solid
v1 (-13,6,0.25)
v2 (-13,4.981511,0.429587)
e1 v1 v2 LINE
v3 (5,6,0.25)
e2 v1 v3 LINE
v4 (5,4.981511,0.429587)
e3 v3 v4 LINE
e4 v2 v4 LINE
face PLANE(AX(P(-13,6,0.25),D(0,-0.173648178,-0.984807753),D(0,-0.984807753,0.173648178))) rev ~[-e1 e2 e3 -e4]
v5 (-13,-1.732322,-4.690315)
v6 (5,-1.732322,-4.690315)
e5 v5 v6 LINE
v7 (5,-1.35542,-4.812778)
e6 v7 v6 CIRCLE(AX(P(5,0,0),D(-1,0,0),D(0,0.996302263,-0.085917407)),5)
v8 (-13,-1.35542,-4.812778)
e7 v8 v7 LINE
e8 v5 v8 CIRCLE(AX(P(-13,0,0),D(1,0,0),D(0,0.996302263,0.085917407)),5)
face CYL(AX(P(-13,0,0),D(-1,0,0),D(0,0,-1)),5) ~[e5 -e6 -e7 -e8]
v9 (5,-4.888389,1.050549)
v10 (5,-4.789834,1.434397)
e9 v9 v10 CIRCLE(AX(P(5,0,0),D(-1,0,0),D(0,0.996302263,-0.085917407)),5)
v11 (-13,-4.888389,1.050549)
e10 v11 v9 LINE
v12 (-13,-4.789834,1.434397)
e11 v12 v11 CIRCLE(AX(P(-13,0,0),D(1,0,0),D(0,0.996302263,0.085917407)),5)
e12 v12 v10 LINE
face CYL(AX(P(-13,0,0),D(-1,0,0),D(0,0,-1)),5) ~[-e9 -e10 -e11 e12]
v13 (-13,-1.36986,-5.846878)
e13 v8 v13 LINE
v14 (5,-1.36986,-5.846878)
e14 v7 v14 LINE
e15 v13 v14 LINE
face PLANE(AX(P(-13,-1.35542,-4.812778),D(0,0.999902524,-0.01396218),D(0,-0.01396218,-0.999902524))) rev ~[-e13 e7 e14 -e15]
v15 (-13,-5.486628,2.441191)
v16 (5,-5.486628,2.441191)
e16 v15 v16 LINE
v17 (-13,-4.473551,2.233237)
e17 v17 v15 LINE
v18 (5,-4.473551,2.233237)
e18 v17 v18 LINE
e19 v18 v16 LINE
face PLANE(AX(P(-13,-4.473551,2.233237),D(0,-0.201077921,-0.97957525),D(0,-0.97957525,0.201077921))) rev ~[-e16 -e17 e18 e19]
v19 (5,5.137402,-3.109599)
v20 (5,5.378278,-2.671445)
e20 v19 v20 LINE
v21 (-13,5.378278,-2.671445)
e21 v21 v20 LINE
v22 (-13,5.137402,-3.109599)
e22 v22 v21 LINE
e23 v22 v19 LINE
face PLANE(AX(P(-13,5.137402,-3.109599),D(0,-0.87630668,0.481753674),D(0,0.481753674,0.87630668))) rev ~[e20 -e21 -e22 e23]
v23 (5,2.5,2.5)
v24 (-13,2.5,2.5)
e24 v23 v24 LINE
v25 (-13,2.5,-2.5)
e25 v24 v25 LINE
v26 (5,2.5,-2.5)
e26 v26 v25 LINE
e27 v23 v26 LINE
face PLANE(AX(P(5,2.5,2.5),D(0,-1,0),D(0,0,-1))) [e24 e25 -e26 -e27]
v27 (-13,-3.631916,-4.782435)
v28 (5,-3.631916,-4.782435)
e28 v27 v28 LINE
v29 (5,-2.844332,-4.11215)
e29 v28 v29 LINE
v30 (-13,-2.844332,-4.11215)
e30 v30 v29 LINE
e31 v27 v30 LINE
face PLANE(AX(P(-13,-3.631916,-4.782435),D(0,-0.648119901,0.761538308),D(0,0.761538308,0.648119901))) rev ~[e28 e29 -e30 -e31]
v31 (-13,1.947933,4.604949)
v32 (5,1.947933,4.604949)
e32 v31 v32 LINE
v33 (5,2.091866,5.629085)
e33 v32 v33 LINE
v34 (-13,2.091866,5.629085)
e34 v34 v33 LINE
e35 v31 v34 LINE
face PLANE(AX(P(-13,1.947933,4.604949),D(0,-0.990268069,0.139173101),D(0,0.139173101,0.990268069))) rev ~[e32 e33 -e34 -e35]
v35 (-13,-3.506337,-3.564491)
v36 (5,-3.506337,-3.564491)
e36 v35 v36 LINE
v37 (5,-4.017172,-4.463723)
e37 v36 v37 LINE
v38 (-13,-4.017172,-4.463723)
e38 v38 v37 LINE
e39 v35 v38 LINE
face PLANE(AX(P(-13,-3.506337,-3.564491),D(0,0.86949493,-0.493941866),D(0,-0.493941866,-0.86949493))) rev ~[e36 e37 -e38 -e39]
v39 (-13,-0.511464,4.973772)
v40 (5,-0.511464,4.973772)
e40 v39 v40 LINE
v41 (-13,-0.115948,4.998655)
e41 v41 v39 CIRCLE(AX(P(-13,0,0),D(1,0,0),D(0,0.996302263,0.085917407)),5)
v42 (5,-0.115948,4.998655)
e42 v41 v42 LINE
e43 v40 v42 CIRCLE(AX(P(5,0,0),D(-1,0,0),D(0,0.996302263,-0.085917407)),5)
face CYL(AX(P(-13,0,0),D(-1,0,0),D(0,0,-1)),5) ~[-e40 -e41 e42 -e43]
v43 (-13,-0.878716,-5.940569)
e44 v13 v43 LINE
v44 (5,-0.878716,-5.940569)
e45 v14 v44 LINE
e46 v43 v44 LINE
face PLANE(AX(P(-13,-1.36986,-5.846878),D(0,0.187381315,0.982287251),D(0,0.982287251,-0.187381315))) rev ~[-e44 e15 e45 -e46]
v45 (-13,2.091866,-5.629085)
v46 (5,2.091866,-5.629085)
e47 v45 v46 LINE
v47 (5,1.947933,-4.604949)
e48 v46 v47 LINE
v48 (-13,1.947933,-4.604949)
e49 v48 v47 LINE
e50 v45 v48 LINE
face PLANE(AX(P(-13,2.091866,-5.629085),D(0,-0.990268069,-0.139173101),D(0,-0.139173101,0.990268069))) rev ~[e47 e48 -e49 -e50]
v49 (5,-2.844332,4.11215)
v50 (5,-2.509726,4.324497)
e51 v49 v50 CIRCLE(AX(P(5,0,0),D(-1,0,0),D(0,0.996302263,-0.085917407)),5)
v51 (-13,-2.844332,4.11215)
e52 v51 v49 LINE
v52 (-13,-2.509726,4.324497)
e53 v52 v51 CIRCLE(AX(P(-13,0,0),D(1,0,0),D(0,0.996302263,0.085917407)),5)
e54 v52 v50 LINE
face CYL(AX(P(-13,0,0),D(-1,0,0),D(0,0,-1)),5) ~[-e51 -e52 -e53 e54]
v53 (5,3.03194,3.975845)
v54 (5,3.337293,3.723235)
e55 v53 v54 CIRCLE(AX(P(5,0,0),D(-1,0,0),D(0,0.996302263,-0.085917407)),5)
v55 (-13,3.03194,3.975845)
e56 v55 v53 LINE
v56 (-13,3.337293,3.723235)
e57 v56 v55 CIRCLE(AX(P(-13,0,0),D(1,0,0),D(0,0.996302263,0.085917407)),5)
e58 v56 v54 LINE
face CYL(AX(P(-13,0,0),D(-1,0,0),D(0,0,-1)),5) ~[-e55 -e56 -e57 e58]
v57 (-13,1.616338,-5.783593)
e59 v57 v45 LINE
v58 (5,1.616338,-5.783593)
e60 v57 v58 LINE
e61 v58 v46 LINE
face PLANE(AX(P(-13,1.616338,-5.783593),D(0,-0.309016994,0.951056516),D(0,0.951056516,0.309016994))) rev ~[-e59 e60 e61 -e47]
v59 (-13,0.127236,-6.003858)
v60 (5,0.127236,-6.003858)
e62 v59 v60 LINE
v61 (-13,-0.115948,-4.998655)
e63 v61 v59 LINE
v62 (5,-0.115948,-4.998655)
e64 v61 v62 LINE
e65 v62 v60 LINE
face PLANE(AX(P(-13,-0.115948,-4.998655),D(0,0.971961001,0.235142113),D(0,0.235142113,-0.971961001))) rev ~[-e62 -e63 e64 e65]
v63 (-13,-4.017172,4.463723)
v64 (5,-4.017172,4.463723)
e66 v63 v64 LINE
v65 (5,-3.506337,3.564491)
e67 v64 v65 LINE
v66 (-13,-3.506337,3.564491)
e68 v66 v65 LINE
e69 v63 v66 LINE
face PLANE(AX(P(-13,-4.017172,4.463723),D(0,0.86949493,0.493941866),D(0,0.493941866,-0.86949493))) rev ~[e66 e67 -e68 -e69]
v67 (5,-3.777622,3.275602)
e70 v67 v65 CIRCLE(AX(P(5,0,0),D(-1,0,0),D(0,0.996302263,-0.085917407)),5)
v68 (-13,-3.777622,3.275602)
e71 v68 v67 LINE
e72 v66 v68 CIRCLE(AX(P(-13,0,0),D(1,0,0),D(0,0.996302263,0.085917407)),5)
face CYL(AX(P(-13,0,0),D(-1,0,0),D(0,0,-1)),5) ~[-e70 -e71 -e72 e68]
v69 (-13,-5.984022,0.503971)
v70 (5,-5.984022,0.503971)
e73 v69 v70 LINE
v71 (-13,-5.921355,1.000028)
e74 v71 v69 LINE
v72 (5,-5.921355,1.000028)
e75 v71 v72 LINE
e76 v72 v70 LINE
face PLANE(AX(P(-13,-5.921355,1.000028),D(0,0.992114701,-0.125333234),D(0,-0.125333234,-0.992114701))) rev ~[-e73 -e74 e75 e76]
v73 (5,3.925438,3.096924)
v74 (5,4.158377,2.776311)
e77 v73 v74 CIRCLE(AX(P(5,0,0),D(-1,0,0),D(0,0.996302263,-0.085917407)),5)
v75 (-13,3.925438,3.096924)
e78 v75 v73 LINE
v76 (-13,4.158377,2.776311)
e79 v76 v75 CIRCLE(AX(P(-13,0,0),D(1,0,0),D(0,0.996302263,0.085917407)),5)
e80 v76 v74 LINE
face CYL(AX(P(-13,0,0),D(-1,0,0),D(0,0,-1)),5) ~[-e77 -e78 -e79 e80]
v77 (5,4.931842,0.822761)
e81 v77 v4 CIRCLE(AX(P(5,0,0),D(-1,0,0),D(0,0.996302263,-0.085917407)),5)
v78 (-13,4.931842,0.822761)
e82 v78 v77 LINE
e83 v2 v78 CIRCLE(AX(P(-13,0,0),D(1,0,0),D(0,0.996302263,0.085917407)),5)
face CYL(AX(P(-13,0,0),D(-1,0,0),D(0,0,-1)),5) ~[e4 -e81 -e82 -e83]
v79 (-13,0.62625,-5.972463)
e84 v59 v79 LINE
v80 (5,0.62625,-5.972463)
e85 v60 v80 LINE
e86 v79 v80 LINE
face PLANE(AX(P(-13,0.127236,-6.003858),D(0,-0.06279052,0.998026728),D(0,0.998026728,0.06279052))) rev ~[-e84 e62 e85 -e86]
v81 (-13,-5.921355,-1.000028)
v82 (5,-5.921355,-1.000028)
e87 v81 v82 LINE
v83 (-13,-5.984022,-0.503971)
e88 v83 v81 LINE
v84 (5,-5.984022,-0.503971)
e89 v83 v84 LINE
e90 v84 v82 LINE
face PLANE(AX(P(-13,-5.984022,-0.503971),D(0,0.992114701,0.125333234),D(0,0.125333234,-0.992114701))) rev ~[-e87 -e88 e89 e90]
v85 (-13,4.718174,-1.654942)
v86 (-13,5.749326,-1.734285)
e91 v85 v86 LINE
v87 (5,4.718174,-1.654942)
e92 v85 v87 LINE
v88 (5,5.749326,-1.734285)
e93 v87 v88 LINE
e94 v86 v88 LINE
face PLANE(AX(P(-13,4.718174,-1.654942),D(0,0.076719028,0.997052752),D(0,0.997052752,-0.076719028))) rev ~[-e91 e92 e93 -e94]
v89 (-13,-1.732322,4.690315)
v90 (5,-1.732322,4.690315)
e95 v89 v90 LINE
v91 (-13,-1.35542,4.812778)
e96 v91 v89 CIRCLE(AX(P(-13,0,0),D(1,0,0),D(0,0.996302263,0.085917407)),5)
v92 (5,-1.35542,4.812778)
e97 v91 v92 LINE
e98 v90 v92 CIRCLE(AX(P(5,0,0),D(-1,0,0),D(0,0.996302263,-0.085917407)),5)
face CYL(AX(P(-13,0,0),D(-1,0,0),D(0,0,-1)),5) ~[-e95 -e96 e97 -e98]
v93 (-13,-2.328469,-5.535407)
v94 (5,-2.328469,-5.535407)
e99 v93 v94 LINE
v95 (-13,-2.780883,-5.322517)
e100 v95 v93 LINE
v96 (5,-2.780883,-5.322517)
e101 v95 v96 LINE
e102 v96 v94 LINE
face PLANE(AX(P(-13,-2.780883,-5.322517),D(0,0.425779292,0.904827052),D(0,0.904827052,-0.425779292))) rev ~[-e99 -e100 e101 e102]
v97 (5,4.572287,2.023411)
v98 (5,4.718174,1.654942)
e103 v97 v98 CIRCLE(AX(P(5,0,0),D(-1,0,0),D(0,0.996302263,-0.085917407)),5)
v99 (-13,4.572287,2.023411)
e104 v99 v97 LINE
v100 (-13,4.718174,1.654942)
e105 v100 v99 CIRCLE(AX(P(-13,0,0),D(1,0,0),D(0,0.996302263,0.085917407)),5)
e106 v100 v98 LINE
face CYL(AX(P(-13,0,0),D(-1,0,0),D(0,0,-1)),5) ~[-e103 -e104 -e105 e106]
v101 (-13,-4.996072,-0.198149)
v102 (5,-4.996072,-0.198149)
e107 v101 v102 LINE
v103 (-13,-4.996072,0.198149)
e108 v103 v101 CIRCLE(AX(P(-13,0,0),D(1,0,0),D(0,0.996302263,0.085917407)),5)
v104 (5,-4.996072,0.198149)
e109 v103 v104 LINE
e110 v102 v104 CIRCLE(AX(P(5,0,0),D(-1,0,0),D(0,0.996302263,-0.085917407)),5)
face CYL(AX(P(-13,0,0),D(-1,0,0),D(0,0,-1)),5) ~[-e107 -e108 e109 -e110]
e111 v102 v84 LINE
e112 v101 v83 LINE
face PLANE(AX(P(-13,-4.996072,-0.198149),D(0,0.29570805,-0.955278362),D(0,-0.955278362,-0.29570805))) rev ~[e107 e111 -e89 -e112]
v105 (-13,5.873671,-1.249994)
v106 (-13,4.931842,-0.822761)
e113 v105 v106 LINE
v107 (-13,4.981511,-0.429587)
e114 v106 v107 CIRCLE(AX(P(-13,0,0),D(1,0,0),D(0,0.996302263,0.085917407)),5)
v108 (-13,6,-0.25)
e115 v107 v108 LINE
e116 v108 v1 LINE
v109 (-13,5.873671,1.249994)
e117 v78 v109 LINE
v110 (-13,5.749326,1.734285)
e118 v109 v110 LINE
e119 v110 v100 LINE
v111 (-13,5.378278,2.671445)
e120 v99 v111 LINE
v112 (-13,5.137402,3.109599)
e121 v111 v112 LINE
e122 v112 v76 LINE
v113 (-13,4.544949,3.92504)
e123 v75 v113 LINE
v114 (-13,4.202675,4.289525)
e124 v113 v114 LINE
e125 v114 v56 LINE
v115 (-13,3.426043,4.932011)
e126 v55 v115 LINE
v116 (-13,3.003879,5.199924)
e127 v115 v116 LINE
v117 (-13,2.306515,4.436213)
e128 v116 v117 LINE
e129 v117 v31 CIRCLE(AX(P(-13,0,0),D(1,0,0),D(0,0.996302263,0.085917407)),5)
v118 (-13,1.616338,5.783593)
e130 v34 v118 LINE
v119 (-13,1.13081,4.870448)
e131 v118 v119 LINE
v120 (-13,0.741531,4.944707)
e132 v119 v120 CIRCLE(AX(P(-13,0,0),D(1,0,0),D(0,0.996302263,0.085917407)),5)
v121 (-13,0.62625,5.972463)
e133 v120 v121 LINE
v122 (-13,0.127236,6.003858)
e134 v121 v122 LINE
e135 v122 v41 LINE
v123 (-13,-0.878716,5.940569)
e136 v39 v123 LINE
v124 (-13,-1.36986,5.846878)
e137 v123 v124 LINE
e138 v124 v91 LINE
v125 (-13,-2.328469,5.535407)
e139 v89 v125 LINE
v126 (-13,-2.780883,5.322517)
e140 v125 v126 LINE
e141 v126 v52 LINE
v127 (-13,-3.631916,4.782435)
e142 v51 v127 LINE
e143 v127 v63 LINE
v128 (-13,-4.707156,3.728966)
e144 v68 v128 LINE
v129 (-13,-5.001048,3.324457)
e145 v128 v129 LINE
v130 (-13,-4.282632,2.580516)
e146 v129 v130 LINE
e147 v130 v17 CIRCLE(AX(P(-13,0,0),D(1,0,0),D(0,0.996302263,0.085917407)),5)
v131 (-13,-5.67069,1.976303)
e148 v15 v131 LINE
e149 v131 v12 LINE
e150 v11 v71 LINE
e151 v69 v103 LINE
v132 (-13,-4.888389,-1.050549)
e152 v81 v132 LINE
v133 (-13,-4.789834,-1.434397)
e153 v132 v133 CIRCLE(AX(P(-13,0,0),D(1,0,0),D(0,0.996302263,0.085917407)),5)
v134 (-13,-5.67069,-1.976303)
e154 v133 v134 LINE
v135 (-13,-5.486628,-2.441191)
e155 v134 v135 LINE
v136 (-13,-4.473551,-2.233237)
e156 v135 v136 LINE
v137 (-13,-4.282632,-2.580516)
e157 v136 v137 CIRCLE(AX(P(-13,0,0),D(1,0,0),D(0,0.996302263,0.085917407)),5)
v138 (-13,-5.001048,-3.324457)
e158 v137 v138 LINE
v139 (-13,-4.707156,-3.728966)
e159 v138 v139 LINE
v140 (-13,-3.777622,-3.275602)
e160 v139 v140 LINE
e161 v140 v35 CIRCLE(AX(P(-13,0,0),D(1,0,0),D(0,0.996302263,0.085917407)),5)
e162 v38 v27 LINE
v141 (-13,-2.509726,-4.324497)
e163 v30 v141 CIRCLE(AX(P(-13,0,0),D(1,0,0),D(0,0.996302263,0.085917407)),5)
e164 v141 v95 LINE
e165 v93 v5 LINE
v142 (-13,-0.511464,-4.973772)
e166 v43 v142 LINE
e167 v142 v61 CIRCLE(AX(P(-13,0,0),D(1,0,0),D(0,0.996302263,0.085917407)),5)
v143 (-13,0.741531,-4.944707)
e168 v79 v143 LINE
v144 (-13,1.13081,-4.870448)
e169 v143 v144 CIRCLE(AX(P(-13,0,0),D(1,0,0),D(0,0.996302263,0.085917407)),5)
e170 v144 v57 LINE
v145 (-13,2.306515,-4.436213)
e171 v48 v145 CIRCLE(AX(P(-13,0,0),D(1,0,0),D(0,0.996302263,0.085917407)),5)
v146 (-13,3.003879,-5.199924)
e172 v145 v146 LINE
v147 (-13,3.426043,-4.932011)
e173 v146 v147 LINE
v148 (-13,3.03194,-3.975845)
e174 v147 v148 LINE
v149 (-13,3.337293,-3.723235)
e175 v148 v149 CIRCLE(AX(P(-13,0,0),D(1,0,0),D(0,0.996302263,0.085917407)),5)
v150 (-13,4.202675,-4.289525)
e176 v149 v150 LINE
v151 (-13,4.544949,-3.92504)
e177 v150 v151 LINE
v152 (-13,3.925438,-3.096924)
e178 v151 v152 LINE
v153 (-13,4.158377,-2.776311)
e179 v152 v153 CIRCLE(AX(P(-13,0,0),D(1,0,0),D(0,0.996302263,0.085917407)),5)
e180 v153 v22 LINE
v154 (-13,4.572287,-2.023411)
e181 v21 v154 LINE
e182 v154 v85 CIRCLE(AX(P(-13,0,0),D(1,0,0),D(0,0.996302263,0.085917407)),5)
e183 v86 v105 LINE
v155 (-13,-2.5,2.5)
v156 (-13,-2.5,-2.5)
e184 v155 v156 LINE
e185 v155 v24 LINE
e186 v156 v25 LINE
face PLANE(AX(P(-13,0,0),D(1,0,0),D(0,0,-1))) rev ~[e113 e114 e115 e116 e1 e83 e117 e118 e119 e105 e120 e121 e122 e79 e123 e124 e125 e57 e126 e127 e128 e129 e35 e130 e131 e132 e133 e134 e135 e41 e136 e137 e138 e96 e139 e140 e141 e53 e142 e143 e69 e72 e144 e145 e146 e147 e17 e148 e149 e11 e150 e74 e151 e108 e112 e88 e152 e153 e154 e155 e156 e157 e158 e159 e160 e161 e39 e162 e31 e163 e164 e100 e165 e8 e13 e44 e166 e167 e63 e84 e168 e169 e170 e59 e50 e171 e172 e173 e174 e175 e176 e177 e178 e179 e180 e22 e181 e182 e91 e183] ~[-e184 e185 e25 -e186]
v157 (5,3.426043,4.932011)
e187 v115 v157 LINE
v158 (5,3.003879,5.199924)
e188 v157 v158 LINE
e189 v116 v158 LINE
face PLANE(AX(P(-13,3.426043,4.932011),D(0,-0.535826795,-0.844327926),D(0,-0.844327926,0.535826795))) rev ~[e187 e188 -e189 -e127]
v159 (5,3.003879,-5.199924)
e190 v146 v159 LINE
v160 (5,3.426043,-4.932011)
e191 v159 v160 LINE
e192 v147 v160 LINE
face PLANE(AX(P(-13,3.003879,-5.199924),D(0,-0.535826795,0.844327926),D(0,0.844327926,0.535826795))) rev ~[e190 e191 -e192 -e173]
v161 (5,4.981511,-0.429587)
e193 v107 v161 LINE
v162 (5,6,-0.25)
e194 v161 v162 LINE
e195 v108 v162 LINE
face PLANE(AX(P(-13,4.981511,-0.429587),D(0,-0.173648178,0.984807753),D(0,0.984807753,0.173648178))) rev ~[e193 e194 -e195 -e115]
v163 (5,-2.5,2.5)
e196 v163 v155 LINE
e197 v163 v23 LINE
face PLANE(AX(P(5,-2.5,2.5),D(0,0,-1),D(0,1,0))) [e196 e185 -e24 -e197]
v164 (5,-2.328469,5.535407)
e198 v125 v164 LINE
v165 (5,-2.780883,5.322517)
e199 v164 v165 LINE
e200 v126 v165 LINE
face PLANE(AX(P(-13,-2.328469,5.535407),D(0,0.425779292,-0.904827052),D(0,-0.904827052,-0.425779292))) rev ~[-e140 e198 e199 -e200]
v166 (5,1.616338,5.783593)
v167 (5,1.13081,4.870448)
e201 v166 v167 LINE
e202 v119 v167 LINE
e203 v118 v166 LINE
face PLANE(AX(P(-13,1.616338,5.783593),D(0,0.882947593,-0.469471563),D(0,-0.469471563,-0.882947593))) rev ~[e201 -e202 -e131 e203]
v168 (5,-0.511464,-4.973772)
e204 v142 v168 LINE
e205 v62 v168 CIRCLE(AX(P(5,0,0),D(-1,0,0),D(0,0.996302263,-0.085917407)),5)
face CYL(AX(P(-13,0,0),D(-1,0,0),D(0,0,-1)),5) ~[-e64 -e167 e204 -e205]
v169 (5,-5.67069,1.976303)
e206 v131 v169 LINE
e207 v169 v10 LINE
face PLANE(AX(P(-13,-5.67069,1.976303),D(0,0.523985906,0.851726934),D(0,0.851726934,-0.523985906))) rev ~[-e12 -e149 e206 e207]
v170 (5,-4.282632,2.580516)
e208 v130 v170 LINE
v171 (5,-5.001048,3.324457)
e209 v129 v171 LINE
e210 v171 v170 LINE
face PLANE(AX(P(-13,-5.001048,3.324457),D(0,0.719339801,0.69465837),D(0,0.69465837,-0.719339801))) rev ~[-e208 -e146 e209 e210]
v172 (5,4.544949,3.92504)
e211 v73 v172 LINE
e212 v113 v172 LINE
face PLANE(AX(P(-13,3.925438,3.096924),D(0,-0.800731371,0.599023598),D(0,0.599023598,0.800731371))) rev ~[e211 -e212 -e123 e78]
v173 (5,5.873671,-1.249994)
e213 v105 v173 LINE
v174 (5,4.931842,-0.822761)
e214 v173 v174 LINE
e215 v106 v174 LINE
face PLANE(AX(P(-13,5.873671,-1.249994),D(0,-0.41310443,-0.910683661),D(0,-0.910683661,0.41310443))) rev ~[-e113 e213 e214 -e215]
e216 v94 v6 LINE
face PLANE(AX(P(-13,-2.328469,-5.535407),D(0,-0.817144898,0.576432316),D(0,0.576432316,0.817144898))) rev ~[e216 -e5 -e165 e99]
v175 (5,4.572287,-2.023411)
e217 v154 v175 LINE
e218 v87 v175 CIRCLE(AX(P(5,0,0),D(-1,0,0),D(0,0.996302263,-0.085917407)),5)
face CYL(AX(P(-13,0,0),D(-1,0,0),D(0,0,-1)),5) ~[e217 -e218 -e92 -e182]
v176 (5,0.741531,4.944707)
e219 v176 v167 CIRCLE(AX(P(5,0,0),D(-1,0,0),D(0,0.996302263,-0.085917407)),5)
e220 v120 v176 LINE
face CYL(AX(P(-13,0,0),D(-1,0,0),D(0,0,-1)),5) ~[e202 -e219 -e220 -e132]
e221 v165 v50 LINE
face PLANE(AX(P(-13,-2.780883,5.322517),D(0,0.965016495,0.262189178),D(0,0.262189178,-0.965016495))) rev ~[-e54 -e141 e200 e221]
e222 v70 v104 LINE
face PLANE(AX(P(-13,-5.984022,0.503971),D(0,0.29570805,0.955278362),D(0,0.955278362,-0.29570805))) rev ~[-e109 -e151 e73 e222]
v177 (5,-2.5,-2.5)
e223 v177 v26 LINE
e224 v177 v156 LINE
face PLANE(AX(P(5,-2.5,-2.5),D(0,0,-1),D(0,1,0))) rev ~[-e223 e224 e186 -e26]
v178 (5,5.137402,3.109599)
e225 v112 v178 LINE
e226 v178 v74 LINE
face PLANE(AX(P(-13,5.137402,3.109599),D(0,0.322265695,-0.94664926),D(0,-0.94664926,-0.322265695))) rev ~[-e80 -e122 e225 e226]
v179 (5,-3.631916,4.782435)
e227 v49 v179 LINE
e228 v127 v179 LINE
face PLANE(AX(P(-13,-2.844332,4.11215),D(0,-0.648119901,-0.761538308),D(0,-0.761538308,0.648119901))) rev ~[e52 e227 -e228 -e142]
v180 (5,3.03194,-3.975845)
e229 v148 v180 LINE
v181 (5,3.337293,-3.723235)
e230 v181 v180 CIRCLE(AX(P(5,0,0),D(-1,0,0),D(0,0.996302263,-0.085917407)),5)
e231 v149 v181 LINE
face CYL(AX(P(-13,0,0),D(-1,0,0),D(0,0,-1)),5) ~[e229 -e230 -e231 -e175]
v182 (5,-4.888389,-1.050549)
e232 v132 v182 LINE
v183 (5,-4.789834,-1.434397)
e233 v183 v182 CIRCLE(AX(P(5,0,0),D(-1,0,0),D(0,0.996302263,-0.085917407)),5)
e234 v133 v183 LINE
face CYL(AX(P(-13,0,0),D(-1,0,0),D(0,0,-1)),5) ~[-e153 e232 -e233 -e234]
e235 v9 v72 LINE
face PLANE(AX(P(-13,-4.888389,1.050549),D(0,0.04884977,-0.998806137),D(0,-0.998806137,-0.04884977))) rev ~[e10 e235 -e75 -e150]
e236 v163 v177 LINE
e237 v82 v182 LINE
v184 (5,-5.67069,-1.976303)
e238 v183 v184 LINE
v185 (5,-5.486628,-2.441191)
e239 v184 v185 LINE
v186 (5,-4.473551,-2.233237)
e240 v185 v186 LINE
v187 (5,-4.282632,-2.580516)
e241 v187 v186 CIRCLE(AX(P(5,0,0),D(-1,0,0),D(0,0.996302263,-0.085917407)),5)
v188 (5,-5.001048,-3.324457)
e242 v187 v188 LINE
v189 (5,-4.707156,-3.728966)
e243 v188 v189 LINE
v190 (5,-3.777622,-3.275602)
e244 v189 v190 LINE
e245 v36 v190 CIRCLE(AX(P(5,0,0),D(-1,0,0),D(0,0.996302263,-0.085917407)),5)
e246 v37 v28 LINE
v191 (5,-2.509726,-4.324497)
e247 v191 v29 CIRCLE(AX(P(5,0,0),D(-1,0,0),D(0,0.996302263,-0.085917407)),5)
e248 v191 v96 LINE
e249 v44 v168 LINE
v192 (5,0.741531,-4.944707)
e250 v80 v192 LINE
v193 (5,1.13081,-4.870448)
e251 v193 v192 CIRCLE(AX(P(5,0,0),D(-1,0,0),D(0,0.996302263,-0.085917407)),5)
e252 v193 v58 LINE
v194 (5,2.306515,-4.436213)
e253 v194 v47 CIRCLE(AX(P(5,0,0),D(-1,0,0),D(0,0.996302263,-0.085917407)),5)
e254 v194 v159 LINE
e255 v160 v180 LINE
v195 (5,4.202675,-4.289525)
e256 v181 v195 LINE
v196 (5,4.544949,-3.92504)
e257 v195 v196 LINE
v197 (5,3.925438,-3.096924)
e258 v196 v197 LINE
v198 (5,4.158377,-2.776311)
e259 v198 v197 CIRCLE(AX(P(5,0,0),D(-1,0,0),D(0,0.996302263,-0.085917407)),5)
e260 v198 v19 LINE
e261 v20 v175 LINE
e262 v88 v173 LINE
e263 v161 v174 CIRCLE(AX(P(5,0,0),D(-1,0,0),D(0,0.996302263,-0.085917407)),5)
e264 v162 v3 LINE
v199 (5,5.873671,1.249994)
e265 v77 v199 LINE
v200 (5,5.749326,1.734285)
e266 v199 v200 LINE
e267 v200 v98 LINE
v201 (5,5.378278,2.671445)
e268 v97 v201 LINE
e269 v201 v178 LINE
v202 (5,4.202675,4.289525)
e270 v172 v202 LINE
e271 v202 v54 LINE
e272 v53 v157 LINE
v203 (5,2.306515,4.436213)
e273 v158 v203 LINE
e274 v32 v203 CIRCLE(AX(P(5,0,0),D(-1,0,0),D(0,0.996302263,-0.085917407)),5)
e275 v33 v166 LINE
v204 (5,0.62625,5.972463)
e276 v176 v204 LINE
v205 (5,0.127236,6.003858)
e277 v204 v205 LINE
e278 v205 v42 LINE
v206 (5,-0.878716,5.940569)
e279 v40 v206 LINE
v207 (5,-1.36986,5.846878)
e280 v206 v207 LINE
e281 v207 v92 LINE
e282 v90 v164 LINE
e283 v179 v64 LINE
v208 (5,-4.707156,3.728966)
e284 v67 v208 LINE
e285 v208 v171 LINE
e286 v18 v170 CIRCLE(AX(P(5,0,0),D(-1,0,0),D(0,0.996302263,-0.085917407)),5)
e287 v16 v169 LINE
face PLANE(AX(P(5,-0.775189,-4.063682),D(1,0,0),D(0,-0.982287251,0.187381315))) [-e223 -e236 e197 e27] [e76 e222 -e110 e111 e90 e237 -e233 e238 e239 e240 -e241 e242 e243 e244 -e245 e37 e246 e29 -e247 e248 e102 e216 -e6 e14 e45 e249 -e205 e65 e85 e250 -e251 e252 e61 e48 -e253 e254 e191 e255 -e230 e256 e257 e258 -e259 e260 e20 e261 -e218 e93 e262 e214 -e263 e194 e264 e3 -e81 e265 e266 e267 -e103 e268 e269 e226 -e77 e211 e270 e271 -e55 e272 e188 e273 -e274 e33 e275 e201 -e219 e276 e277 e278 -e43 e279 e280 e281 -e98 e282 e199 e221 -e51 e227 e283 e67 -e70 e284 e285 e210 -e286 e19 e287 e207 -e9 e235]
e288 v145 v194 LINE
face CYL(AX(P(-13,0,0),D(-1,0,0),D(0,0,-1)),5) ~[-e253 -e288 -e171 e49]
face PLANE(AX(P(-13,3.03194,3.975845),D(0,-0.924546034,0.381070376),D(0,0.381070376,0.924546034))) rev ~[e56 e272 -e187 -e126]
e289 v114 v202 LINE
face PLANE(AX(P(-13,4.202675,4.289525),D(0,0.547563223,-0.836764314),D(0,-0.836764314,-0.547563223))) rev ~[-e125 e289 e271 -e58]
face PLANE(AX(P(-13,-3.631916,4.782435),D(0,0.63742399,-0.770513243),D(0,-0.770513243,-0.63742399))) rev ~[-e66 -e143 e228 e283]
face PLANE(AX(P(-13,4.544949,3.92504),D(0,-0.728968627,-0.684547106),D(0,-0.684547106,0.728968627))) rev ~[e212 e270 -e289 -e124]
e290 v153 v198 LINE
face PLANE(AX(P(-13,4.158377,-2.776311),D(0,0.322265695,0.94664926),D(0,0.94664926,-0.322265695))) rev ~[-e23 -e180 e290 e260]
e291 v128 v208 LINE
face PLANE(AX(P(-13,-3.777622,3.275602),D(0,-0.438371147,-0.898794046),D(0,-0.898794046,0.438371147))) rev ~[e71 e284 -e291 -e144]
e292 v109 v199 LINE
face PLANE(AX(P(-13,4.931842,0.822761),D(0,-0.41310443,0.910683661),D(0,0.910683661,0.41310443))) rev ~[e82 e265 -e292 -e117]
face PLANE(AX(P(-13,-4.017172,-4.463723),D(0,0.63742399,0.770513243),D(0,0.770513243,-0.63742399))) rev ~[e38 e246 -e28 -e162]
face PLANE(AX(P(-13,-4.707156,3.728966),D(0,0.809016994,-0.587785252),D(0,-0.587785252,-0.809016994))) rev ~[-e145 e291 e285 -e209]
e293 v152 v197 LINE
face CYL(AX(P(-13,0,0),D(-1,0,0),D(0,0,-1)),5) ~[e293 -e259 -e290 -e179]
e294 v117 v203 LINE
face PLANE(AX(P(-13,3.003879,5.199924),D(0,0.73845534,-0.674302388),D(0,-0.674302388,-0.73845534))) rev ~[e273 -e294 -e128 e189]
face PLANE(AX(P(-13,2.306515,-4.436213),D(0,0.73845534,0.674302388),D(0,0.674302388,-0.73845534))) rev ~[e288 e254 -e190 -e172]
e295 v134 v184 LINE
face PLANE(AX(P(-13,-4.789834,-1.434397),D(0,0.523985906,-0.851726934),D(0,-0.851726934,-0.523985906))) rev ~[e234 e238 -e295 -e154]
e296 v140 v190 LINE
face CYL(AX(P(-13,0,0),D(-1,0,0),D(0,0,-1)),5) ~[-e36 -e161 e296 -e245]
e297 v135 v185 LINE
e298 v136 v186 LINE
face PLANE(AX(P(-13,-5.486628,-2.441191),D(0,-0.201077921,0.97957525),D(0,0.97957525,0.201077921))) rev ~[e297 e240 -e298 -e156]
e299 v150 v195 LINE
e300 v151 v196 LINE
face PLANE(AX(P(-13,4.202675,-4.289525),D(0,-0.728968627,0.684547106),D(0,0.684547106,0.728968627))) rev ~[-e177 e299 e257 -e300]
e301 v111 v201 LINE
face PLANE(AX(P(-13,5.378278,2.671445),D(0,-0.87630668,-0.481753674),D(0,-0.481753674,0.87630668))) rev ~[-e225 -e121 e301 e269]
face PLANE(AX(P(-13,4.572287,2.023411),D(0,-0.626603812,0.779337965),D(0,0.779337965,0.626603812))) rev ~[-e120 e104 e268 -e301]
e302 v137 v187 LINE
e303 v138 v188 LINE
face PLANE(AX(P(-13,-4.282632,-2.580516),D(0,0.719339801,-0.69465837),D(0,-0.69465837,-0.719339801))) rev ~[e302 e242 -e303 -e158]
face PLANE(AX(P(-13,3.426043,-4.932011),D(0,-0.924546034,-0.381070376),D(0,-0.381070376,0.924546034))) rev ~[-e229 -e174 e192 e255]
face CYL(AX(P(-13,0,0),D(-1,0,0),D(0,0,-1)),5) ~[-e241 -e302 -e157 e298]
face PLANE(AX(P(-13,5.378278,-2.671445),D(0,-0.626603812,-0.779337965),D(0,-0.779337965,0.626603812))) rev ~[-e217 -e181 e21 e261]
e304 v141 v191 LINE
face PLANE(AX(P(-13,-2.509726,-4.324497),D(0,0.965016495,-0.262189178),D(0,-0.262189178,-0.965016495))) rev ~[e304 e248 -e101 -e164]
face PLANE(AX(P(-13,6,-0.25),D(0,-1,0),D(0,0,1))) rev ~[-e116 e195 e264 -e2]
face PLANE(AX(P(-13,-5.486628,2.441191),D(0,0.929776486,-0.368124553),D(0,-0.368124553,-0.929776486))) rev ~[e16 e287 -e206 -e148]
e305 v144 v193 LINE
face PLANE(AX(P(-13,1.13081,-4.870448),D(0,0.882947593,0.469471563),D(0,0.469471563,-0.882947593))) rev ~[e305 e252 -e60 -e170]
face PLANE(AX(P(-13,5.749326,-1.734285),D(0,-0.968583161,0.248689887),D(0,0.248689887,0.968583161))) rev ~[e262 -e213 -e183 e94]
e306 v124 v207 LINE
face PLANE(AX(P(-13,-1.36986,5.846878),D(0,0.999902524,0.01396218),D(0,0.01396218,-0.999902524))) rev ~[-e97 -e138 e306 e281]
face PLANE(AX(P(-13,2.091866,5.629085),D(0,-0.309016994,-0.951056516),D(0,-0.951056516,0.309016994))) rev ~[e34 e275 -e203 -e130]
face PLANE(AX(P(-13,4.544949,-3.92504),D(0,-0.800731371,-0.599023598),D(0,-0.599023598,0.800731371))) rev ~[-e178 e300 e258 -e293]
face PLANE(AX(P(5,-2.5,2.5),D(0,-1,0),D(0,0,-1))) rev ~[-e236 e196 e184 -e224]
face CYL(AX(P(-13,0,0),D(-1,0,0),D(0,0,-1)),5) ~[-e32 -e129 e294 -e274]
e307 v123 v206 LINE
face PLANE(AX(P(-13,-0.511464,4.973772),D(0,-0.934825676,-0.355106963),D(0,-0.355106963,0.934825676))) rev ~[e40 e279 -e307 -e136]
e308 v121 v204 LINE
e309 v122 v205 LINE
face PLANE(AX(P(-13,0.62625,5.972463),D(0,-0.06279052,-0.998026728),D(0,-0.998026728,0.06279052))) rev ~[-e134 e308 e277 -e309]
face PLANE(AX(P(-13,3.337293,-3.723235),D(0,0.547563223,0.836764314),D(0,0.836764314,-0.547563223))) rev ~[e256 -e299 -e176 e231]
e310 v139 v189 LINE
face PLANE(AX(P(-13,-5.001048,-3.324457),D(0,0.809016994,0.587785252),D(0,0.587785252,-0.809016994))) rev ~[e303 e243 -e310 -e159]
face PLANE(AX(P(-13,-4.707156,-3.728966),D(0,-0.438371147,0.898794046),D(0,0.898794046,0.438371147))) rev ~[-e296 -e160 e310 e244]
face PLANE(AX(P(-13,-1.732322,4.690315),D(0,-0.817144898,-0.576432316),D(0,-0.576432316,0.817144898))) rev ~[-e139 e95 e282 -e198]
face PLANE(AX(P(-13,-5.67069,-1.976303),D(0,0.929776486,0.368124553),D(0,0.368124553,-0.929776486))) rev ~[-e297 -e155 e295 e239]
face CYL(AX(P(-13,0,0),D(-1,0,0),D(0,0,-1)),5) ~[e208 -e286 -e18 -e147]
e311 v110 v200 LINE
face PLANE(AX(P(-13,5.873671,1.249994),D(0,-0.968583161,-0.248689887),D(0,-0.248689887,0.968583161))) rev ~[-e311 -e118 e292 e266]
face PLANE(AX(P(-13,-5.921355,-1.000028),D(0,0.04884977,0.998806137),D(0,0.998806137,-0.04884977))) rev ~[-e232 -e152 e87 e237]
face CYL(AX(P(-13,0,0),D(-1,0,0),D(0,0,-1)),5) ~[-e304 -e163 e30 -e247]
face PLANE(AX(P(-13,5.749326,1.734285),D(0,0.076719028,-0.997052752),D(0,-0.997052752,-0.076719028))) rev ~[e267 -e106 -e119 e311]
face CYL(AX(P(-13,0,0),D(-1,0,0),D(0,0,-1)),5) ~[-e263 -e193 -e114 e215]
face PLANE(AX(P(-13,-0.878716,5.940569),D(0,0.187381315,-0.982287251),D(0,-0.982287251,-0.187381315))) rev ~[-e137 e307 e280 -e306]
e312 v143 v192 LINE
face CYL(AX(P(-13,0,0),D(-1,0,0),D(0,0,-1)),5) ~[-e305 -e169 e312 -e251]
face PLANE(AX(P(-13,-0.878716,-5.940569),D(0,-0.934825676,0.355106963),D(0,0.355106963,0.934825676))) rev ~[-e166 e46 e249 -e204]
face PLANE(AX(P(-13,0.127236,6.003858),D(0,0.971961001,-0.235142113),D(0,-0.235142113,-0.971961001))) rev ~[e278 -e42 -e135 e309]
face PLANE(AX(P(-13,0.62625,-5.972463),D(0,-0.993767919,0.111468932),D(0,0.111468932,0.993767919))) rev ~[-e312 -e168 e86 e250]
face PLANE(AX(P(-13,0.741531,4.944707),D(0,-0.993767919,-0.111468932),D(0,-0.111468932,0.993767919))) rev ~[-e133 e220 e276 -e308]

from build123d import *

# Parameters (mm, degrees)
BOSS_EXTRUDE2_START      = -13
BOSS_EXTRUDE2_DEPTH      = 18
BOSS_EXTRUDE3_DEPTH      = 5
BOSS_EXTRUDE3_DEPTH_BACK = 13
SKETCH3_R                = 5
CIRPATTERN1_COUNT        = 25
SKETCH4_W                = 5
SKETCH4_H                = 5
CUT_EXTRUDE1_DEPTH       = 18


with BuildPart() as part:
    # Sketch2 → Boss-Extrude2 (new body)
    with BuildSketch(Plane(origin=(0, 0, 0), x_dir=(0, 0, -1), z_dir=(1, 0, 0)).offset(BOSS_EXTRUDE2_START)):
        with BuildLine():
            ThreePointArc((0.429587035, 4.981511315), (0, 5), (-0.429587035, 4.981511315))
            Line((-0.429587035, 4.981511315), (-0.700772987, 3.443539352))
            Line((-0.700772987, 3.443539352), (0.700772987, 3.443539352))
            Line((0.700772987, 3.443539352), (0.429587035, 4.981511315))
        make_face()
        with BuildLine():
            Line((0.25, 6), (-0.25, 6))
            Line((-0.25, 6), (-0.429587035, 4.981511315))
            ThreePointArc((-0.429587035, 4.981511315), (0, 5), (0.429587035, 4.981511315))
            Line((0.429587035, 4.981511315), (0.25, 6))
        make_face()
    boss_extrude2 = extrude(amount=BOSS_EXTRUDE2_DEPTH)

    # Sketch3 → Boss-Extrude3 (add, two sides: drawn at the far end of the back side and taken through both)
    with BuildSketch(Plane(origin=(0, 0, 0), x_dir=(0, 0, -1), z_dir=(1, 0, 0)).offset(-BOSS_EXTRUDE3_DEPTH_BACK)):
        Circle(SKETCH3_R)
    extrude(amount=BOSS_EXTRUDE3_DEPTH + BOSS_EXTRUDE3_DEPTH_BACK)

    # CirPattern1: Boss-Extrude2 ×25 about axis
    cirpattern1_axis = Axis((0, 0, 0), (1, 0, 0))
    for i in range(1, CIRPATTERN1_COUNT):
        add(boss_extrude2.rotate(cirpattern1_axis, i * 360 / CIRPATTERN1_COUNT))

    # Sketch4 → Cut-Extrude1 (cut)
    with BuildSketch(Plane(origin=(5, 0, 0), x_dir=(0, 0, -1), z_dir=(1, 0, 0))):
        Rectangle(SKETCH4_W, SKETCH4_H)
    extrude(amount=-CUT_EXTRUDE1_DEPTH, mode=Mode.SUBTRACT)


solid = part.part
